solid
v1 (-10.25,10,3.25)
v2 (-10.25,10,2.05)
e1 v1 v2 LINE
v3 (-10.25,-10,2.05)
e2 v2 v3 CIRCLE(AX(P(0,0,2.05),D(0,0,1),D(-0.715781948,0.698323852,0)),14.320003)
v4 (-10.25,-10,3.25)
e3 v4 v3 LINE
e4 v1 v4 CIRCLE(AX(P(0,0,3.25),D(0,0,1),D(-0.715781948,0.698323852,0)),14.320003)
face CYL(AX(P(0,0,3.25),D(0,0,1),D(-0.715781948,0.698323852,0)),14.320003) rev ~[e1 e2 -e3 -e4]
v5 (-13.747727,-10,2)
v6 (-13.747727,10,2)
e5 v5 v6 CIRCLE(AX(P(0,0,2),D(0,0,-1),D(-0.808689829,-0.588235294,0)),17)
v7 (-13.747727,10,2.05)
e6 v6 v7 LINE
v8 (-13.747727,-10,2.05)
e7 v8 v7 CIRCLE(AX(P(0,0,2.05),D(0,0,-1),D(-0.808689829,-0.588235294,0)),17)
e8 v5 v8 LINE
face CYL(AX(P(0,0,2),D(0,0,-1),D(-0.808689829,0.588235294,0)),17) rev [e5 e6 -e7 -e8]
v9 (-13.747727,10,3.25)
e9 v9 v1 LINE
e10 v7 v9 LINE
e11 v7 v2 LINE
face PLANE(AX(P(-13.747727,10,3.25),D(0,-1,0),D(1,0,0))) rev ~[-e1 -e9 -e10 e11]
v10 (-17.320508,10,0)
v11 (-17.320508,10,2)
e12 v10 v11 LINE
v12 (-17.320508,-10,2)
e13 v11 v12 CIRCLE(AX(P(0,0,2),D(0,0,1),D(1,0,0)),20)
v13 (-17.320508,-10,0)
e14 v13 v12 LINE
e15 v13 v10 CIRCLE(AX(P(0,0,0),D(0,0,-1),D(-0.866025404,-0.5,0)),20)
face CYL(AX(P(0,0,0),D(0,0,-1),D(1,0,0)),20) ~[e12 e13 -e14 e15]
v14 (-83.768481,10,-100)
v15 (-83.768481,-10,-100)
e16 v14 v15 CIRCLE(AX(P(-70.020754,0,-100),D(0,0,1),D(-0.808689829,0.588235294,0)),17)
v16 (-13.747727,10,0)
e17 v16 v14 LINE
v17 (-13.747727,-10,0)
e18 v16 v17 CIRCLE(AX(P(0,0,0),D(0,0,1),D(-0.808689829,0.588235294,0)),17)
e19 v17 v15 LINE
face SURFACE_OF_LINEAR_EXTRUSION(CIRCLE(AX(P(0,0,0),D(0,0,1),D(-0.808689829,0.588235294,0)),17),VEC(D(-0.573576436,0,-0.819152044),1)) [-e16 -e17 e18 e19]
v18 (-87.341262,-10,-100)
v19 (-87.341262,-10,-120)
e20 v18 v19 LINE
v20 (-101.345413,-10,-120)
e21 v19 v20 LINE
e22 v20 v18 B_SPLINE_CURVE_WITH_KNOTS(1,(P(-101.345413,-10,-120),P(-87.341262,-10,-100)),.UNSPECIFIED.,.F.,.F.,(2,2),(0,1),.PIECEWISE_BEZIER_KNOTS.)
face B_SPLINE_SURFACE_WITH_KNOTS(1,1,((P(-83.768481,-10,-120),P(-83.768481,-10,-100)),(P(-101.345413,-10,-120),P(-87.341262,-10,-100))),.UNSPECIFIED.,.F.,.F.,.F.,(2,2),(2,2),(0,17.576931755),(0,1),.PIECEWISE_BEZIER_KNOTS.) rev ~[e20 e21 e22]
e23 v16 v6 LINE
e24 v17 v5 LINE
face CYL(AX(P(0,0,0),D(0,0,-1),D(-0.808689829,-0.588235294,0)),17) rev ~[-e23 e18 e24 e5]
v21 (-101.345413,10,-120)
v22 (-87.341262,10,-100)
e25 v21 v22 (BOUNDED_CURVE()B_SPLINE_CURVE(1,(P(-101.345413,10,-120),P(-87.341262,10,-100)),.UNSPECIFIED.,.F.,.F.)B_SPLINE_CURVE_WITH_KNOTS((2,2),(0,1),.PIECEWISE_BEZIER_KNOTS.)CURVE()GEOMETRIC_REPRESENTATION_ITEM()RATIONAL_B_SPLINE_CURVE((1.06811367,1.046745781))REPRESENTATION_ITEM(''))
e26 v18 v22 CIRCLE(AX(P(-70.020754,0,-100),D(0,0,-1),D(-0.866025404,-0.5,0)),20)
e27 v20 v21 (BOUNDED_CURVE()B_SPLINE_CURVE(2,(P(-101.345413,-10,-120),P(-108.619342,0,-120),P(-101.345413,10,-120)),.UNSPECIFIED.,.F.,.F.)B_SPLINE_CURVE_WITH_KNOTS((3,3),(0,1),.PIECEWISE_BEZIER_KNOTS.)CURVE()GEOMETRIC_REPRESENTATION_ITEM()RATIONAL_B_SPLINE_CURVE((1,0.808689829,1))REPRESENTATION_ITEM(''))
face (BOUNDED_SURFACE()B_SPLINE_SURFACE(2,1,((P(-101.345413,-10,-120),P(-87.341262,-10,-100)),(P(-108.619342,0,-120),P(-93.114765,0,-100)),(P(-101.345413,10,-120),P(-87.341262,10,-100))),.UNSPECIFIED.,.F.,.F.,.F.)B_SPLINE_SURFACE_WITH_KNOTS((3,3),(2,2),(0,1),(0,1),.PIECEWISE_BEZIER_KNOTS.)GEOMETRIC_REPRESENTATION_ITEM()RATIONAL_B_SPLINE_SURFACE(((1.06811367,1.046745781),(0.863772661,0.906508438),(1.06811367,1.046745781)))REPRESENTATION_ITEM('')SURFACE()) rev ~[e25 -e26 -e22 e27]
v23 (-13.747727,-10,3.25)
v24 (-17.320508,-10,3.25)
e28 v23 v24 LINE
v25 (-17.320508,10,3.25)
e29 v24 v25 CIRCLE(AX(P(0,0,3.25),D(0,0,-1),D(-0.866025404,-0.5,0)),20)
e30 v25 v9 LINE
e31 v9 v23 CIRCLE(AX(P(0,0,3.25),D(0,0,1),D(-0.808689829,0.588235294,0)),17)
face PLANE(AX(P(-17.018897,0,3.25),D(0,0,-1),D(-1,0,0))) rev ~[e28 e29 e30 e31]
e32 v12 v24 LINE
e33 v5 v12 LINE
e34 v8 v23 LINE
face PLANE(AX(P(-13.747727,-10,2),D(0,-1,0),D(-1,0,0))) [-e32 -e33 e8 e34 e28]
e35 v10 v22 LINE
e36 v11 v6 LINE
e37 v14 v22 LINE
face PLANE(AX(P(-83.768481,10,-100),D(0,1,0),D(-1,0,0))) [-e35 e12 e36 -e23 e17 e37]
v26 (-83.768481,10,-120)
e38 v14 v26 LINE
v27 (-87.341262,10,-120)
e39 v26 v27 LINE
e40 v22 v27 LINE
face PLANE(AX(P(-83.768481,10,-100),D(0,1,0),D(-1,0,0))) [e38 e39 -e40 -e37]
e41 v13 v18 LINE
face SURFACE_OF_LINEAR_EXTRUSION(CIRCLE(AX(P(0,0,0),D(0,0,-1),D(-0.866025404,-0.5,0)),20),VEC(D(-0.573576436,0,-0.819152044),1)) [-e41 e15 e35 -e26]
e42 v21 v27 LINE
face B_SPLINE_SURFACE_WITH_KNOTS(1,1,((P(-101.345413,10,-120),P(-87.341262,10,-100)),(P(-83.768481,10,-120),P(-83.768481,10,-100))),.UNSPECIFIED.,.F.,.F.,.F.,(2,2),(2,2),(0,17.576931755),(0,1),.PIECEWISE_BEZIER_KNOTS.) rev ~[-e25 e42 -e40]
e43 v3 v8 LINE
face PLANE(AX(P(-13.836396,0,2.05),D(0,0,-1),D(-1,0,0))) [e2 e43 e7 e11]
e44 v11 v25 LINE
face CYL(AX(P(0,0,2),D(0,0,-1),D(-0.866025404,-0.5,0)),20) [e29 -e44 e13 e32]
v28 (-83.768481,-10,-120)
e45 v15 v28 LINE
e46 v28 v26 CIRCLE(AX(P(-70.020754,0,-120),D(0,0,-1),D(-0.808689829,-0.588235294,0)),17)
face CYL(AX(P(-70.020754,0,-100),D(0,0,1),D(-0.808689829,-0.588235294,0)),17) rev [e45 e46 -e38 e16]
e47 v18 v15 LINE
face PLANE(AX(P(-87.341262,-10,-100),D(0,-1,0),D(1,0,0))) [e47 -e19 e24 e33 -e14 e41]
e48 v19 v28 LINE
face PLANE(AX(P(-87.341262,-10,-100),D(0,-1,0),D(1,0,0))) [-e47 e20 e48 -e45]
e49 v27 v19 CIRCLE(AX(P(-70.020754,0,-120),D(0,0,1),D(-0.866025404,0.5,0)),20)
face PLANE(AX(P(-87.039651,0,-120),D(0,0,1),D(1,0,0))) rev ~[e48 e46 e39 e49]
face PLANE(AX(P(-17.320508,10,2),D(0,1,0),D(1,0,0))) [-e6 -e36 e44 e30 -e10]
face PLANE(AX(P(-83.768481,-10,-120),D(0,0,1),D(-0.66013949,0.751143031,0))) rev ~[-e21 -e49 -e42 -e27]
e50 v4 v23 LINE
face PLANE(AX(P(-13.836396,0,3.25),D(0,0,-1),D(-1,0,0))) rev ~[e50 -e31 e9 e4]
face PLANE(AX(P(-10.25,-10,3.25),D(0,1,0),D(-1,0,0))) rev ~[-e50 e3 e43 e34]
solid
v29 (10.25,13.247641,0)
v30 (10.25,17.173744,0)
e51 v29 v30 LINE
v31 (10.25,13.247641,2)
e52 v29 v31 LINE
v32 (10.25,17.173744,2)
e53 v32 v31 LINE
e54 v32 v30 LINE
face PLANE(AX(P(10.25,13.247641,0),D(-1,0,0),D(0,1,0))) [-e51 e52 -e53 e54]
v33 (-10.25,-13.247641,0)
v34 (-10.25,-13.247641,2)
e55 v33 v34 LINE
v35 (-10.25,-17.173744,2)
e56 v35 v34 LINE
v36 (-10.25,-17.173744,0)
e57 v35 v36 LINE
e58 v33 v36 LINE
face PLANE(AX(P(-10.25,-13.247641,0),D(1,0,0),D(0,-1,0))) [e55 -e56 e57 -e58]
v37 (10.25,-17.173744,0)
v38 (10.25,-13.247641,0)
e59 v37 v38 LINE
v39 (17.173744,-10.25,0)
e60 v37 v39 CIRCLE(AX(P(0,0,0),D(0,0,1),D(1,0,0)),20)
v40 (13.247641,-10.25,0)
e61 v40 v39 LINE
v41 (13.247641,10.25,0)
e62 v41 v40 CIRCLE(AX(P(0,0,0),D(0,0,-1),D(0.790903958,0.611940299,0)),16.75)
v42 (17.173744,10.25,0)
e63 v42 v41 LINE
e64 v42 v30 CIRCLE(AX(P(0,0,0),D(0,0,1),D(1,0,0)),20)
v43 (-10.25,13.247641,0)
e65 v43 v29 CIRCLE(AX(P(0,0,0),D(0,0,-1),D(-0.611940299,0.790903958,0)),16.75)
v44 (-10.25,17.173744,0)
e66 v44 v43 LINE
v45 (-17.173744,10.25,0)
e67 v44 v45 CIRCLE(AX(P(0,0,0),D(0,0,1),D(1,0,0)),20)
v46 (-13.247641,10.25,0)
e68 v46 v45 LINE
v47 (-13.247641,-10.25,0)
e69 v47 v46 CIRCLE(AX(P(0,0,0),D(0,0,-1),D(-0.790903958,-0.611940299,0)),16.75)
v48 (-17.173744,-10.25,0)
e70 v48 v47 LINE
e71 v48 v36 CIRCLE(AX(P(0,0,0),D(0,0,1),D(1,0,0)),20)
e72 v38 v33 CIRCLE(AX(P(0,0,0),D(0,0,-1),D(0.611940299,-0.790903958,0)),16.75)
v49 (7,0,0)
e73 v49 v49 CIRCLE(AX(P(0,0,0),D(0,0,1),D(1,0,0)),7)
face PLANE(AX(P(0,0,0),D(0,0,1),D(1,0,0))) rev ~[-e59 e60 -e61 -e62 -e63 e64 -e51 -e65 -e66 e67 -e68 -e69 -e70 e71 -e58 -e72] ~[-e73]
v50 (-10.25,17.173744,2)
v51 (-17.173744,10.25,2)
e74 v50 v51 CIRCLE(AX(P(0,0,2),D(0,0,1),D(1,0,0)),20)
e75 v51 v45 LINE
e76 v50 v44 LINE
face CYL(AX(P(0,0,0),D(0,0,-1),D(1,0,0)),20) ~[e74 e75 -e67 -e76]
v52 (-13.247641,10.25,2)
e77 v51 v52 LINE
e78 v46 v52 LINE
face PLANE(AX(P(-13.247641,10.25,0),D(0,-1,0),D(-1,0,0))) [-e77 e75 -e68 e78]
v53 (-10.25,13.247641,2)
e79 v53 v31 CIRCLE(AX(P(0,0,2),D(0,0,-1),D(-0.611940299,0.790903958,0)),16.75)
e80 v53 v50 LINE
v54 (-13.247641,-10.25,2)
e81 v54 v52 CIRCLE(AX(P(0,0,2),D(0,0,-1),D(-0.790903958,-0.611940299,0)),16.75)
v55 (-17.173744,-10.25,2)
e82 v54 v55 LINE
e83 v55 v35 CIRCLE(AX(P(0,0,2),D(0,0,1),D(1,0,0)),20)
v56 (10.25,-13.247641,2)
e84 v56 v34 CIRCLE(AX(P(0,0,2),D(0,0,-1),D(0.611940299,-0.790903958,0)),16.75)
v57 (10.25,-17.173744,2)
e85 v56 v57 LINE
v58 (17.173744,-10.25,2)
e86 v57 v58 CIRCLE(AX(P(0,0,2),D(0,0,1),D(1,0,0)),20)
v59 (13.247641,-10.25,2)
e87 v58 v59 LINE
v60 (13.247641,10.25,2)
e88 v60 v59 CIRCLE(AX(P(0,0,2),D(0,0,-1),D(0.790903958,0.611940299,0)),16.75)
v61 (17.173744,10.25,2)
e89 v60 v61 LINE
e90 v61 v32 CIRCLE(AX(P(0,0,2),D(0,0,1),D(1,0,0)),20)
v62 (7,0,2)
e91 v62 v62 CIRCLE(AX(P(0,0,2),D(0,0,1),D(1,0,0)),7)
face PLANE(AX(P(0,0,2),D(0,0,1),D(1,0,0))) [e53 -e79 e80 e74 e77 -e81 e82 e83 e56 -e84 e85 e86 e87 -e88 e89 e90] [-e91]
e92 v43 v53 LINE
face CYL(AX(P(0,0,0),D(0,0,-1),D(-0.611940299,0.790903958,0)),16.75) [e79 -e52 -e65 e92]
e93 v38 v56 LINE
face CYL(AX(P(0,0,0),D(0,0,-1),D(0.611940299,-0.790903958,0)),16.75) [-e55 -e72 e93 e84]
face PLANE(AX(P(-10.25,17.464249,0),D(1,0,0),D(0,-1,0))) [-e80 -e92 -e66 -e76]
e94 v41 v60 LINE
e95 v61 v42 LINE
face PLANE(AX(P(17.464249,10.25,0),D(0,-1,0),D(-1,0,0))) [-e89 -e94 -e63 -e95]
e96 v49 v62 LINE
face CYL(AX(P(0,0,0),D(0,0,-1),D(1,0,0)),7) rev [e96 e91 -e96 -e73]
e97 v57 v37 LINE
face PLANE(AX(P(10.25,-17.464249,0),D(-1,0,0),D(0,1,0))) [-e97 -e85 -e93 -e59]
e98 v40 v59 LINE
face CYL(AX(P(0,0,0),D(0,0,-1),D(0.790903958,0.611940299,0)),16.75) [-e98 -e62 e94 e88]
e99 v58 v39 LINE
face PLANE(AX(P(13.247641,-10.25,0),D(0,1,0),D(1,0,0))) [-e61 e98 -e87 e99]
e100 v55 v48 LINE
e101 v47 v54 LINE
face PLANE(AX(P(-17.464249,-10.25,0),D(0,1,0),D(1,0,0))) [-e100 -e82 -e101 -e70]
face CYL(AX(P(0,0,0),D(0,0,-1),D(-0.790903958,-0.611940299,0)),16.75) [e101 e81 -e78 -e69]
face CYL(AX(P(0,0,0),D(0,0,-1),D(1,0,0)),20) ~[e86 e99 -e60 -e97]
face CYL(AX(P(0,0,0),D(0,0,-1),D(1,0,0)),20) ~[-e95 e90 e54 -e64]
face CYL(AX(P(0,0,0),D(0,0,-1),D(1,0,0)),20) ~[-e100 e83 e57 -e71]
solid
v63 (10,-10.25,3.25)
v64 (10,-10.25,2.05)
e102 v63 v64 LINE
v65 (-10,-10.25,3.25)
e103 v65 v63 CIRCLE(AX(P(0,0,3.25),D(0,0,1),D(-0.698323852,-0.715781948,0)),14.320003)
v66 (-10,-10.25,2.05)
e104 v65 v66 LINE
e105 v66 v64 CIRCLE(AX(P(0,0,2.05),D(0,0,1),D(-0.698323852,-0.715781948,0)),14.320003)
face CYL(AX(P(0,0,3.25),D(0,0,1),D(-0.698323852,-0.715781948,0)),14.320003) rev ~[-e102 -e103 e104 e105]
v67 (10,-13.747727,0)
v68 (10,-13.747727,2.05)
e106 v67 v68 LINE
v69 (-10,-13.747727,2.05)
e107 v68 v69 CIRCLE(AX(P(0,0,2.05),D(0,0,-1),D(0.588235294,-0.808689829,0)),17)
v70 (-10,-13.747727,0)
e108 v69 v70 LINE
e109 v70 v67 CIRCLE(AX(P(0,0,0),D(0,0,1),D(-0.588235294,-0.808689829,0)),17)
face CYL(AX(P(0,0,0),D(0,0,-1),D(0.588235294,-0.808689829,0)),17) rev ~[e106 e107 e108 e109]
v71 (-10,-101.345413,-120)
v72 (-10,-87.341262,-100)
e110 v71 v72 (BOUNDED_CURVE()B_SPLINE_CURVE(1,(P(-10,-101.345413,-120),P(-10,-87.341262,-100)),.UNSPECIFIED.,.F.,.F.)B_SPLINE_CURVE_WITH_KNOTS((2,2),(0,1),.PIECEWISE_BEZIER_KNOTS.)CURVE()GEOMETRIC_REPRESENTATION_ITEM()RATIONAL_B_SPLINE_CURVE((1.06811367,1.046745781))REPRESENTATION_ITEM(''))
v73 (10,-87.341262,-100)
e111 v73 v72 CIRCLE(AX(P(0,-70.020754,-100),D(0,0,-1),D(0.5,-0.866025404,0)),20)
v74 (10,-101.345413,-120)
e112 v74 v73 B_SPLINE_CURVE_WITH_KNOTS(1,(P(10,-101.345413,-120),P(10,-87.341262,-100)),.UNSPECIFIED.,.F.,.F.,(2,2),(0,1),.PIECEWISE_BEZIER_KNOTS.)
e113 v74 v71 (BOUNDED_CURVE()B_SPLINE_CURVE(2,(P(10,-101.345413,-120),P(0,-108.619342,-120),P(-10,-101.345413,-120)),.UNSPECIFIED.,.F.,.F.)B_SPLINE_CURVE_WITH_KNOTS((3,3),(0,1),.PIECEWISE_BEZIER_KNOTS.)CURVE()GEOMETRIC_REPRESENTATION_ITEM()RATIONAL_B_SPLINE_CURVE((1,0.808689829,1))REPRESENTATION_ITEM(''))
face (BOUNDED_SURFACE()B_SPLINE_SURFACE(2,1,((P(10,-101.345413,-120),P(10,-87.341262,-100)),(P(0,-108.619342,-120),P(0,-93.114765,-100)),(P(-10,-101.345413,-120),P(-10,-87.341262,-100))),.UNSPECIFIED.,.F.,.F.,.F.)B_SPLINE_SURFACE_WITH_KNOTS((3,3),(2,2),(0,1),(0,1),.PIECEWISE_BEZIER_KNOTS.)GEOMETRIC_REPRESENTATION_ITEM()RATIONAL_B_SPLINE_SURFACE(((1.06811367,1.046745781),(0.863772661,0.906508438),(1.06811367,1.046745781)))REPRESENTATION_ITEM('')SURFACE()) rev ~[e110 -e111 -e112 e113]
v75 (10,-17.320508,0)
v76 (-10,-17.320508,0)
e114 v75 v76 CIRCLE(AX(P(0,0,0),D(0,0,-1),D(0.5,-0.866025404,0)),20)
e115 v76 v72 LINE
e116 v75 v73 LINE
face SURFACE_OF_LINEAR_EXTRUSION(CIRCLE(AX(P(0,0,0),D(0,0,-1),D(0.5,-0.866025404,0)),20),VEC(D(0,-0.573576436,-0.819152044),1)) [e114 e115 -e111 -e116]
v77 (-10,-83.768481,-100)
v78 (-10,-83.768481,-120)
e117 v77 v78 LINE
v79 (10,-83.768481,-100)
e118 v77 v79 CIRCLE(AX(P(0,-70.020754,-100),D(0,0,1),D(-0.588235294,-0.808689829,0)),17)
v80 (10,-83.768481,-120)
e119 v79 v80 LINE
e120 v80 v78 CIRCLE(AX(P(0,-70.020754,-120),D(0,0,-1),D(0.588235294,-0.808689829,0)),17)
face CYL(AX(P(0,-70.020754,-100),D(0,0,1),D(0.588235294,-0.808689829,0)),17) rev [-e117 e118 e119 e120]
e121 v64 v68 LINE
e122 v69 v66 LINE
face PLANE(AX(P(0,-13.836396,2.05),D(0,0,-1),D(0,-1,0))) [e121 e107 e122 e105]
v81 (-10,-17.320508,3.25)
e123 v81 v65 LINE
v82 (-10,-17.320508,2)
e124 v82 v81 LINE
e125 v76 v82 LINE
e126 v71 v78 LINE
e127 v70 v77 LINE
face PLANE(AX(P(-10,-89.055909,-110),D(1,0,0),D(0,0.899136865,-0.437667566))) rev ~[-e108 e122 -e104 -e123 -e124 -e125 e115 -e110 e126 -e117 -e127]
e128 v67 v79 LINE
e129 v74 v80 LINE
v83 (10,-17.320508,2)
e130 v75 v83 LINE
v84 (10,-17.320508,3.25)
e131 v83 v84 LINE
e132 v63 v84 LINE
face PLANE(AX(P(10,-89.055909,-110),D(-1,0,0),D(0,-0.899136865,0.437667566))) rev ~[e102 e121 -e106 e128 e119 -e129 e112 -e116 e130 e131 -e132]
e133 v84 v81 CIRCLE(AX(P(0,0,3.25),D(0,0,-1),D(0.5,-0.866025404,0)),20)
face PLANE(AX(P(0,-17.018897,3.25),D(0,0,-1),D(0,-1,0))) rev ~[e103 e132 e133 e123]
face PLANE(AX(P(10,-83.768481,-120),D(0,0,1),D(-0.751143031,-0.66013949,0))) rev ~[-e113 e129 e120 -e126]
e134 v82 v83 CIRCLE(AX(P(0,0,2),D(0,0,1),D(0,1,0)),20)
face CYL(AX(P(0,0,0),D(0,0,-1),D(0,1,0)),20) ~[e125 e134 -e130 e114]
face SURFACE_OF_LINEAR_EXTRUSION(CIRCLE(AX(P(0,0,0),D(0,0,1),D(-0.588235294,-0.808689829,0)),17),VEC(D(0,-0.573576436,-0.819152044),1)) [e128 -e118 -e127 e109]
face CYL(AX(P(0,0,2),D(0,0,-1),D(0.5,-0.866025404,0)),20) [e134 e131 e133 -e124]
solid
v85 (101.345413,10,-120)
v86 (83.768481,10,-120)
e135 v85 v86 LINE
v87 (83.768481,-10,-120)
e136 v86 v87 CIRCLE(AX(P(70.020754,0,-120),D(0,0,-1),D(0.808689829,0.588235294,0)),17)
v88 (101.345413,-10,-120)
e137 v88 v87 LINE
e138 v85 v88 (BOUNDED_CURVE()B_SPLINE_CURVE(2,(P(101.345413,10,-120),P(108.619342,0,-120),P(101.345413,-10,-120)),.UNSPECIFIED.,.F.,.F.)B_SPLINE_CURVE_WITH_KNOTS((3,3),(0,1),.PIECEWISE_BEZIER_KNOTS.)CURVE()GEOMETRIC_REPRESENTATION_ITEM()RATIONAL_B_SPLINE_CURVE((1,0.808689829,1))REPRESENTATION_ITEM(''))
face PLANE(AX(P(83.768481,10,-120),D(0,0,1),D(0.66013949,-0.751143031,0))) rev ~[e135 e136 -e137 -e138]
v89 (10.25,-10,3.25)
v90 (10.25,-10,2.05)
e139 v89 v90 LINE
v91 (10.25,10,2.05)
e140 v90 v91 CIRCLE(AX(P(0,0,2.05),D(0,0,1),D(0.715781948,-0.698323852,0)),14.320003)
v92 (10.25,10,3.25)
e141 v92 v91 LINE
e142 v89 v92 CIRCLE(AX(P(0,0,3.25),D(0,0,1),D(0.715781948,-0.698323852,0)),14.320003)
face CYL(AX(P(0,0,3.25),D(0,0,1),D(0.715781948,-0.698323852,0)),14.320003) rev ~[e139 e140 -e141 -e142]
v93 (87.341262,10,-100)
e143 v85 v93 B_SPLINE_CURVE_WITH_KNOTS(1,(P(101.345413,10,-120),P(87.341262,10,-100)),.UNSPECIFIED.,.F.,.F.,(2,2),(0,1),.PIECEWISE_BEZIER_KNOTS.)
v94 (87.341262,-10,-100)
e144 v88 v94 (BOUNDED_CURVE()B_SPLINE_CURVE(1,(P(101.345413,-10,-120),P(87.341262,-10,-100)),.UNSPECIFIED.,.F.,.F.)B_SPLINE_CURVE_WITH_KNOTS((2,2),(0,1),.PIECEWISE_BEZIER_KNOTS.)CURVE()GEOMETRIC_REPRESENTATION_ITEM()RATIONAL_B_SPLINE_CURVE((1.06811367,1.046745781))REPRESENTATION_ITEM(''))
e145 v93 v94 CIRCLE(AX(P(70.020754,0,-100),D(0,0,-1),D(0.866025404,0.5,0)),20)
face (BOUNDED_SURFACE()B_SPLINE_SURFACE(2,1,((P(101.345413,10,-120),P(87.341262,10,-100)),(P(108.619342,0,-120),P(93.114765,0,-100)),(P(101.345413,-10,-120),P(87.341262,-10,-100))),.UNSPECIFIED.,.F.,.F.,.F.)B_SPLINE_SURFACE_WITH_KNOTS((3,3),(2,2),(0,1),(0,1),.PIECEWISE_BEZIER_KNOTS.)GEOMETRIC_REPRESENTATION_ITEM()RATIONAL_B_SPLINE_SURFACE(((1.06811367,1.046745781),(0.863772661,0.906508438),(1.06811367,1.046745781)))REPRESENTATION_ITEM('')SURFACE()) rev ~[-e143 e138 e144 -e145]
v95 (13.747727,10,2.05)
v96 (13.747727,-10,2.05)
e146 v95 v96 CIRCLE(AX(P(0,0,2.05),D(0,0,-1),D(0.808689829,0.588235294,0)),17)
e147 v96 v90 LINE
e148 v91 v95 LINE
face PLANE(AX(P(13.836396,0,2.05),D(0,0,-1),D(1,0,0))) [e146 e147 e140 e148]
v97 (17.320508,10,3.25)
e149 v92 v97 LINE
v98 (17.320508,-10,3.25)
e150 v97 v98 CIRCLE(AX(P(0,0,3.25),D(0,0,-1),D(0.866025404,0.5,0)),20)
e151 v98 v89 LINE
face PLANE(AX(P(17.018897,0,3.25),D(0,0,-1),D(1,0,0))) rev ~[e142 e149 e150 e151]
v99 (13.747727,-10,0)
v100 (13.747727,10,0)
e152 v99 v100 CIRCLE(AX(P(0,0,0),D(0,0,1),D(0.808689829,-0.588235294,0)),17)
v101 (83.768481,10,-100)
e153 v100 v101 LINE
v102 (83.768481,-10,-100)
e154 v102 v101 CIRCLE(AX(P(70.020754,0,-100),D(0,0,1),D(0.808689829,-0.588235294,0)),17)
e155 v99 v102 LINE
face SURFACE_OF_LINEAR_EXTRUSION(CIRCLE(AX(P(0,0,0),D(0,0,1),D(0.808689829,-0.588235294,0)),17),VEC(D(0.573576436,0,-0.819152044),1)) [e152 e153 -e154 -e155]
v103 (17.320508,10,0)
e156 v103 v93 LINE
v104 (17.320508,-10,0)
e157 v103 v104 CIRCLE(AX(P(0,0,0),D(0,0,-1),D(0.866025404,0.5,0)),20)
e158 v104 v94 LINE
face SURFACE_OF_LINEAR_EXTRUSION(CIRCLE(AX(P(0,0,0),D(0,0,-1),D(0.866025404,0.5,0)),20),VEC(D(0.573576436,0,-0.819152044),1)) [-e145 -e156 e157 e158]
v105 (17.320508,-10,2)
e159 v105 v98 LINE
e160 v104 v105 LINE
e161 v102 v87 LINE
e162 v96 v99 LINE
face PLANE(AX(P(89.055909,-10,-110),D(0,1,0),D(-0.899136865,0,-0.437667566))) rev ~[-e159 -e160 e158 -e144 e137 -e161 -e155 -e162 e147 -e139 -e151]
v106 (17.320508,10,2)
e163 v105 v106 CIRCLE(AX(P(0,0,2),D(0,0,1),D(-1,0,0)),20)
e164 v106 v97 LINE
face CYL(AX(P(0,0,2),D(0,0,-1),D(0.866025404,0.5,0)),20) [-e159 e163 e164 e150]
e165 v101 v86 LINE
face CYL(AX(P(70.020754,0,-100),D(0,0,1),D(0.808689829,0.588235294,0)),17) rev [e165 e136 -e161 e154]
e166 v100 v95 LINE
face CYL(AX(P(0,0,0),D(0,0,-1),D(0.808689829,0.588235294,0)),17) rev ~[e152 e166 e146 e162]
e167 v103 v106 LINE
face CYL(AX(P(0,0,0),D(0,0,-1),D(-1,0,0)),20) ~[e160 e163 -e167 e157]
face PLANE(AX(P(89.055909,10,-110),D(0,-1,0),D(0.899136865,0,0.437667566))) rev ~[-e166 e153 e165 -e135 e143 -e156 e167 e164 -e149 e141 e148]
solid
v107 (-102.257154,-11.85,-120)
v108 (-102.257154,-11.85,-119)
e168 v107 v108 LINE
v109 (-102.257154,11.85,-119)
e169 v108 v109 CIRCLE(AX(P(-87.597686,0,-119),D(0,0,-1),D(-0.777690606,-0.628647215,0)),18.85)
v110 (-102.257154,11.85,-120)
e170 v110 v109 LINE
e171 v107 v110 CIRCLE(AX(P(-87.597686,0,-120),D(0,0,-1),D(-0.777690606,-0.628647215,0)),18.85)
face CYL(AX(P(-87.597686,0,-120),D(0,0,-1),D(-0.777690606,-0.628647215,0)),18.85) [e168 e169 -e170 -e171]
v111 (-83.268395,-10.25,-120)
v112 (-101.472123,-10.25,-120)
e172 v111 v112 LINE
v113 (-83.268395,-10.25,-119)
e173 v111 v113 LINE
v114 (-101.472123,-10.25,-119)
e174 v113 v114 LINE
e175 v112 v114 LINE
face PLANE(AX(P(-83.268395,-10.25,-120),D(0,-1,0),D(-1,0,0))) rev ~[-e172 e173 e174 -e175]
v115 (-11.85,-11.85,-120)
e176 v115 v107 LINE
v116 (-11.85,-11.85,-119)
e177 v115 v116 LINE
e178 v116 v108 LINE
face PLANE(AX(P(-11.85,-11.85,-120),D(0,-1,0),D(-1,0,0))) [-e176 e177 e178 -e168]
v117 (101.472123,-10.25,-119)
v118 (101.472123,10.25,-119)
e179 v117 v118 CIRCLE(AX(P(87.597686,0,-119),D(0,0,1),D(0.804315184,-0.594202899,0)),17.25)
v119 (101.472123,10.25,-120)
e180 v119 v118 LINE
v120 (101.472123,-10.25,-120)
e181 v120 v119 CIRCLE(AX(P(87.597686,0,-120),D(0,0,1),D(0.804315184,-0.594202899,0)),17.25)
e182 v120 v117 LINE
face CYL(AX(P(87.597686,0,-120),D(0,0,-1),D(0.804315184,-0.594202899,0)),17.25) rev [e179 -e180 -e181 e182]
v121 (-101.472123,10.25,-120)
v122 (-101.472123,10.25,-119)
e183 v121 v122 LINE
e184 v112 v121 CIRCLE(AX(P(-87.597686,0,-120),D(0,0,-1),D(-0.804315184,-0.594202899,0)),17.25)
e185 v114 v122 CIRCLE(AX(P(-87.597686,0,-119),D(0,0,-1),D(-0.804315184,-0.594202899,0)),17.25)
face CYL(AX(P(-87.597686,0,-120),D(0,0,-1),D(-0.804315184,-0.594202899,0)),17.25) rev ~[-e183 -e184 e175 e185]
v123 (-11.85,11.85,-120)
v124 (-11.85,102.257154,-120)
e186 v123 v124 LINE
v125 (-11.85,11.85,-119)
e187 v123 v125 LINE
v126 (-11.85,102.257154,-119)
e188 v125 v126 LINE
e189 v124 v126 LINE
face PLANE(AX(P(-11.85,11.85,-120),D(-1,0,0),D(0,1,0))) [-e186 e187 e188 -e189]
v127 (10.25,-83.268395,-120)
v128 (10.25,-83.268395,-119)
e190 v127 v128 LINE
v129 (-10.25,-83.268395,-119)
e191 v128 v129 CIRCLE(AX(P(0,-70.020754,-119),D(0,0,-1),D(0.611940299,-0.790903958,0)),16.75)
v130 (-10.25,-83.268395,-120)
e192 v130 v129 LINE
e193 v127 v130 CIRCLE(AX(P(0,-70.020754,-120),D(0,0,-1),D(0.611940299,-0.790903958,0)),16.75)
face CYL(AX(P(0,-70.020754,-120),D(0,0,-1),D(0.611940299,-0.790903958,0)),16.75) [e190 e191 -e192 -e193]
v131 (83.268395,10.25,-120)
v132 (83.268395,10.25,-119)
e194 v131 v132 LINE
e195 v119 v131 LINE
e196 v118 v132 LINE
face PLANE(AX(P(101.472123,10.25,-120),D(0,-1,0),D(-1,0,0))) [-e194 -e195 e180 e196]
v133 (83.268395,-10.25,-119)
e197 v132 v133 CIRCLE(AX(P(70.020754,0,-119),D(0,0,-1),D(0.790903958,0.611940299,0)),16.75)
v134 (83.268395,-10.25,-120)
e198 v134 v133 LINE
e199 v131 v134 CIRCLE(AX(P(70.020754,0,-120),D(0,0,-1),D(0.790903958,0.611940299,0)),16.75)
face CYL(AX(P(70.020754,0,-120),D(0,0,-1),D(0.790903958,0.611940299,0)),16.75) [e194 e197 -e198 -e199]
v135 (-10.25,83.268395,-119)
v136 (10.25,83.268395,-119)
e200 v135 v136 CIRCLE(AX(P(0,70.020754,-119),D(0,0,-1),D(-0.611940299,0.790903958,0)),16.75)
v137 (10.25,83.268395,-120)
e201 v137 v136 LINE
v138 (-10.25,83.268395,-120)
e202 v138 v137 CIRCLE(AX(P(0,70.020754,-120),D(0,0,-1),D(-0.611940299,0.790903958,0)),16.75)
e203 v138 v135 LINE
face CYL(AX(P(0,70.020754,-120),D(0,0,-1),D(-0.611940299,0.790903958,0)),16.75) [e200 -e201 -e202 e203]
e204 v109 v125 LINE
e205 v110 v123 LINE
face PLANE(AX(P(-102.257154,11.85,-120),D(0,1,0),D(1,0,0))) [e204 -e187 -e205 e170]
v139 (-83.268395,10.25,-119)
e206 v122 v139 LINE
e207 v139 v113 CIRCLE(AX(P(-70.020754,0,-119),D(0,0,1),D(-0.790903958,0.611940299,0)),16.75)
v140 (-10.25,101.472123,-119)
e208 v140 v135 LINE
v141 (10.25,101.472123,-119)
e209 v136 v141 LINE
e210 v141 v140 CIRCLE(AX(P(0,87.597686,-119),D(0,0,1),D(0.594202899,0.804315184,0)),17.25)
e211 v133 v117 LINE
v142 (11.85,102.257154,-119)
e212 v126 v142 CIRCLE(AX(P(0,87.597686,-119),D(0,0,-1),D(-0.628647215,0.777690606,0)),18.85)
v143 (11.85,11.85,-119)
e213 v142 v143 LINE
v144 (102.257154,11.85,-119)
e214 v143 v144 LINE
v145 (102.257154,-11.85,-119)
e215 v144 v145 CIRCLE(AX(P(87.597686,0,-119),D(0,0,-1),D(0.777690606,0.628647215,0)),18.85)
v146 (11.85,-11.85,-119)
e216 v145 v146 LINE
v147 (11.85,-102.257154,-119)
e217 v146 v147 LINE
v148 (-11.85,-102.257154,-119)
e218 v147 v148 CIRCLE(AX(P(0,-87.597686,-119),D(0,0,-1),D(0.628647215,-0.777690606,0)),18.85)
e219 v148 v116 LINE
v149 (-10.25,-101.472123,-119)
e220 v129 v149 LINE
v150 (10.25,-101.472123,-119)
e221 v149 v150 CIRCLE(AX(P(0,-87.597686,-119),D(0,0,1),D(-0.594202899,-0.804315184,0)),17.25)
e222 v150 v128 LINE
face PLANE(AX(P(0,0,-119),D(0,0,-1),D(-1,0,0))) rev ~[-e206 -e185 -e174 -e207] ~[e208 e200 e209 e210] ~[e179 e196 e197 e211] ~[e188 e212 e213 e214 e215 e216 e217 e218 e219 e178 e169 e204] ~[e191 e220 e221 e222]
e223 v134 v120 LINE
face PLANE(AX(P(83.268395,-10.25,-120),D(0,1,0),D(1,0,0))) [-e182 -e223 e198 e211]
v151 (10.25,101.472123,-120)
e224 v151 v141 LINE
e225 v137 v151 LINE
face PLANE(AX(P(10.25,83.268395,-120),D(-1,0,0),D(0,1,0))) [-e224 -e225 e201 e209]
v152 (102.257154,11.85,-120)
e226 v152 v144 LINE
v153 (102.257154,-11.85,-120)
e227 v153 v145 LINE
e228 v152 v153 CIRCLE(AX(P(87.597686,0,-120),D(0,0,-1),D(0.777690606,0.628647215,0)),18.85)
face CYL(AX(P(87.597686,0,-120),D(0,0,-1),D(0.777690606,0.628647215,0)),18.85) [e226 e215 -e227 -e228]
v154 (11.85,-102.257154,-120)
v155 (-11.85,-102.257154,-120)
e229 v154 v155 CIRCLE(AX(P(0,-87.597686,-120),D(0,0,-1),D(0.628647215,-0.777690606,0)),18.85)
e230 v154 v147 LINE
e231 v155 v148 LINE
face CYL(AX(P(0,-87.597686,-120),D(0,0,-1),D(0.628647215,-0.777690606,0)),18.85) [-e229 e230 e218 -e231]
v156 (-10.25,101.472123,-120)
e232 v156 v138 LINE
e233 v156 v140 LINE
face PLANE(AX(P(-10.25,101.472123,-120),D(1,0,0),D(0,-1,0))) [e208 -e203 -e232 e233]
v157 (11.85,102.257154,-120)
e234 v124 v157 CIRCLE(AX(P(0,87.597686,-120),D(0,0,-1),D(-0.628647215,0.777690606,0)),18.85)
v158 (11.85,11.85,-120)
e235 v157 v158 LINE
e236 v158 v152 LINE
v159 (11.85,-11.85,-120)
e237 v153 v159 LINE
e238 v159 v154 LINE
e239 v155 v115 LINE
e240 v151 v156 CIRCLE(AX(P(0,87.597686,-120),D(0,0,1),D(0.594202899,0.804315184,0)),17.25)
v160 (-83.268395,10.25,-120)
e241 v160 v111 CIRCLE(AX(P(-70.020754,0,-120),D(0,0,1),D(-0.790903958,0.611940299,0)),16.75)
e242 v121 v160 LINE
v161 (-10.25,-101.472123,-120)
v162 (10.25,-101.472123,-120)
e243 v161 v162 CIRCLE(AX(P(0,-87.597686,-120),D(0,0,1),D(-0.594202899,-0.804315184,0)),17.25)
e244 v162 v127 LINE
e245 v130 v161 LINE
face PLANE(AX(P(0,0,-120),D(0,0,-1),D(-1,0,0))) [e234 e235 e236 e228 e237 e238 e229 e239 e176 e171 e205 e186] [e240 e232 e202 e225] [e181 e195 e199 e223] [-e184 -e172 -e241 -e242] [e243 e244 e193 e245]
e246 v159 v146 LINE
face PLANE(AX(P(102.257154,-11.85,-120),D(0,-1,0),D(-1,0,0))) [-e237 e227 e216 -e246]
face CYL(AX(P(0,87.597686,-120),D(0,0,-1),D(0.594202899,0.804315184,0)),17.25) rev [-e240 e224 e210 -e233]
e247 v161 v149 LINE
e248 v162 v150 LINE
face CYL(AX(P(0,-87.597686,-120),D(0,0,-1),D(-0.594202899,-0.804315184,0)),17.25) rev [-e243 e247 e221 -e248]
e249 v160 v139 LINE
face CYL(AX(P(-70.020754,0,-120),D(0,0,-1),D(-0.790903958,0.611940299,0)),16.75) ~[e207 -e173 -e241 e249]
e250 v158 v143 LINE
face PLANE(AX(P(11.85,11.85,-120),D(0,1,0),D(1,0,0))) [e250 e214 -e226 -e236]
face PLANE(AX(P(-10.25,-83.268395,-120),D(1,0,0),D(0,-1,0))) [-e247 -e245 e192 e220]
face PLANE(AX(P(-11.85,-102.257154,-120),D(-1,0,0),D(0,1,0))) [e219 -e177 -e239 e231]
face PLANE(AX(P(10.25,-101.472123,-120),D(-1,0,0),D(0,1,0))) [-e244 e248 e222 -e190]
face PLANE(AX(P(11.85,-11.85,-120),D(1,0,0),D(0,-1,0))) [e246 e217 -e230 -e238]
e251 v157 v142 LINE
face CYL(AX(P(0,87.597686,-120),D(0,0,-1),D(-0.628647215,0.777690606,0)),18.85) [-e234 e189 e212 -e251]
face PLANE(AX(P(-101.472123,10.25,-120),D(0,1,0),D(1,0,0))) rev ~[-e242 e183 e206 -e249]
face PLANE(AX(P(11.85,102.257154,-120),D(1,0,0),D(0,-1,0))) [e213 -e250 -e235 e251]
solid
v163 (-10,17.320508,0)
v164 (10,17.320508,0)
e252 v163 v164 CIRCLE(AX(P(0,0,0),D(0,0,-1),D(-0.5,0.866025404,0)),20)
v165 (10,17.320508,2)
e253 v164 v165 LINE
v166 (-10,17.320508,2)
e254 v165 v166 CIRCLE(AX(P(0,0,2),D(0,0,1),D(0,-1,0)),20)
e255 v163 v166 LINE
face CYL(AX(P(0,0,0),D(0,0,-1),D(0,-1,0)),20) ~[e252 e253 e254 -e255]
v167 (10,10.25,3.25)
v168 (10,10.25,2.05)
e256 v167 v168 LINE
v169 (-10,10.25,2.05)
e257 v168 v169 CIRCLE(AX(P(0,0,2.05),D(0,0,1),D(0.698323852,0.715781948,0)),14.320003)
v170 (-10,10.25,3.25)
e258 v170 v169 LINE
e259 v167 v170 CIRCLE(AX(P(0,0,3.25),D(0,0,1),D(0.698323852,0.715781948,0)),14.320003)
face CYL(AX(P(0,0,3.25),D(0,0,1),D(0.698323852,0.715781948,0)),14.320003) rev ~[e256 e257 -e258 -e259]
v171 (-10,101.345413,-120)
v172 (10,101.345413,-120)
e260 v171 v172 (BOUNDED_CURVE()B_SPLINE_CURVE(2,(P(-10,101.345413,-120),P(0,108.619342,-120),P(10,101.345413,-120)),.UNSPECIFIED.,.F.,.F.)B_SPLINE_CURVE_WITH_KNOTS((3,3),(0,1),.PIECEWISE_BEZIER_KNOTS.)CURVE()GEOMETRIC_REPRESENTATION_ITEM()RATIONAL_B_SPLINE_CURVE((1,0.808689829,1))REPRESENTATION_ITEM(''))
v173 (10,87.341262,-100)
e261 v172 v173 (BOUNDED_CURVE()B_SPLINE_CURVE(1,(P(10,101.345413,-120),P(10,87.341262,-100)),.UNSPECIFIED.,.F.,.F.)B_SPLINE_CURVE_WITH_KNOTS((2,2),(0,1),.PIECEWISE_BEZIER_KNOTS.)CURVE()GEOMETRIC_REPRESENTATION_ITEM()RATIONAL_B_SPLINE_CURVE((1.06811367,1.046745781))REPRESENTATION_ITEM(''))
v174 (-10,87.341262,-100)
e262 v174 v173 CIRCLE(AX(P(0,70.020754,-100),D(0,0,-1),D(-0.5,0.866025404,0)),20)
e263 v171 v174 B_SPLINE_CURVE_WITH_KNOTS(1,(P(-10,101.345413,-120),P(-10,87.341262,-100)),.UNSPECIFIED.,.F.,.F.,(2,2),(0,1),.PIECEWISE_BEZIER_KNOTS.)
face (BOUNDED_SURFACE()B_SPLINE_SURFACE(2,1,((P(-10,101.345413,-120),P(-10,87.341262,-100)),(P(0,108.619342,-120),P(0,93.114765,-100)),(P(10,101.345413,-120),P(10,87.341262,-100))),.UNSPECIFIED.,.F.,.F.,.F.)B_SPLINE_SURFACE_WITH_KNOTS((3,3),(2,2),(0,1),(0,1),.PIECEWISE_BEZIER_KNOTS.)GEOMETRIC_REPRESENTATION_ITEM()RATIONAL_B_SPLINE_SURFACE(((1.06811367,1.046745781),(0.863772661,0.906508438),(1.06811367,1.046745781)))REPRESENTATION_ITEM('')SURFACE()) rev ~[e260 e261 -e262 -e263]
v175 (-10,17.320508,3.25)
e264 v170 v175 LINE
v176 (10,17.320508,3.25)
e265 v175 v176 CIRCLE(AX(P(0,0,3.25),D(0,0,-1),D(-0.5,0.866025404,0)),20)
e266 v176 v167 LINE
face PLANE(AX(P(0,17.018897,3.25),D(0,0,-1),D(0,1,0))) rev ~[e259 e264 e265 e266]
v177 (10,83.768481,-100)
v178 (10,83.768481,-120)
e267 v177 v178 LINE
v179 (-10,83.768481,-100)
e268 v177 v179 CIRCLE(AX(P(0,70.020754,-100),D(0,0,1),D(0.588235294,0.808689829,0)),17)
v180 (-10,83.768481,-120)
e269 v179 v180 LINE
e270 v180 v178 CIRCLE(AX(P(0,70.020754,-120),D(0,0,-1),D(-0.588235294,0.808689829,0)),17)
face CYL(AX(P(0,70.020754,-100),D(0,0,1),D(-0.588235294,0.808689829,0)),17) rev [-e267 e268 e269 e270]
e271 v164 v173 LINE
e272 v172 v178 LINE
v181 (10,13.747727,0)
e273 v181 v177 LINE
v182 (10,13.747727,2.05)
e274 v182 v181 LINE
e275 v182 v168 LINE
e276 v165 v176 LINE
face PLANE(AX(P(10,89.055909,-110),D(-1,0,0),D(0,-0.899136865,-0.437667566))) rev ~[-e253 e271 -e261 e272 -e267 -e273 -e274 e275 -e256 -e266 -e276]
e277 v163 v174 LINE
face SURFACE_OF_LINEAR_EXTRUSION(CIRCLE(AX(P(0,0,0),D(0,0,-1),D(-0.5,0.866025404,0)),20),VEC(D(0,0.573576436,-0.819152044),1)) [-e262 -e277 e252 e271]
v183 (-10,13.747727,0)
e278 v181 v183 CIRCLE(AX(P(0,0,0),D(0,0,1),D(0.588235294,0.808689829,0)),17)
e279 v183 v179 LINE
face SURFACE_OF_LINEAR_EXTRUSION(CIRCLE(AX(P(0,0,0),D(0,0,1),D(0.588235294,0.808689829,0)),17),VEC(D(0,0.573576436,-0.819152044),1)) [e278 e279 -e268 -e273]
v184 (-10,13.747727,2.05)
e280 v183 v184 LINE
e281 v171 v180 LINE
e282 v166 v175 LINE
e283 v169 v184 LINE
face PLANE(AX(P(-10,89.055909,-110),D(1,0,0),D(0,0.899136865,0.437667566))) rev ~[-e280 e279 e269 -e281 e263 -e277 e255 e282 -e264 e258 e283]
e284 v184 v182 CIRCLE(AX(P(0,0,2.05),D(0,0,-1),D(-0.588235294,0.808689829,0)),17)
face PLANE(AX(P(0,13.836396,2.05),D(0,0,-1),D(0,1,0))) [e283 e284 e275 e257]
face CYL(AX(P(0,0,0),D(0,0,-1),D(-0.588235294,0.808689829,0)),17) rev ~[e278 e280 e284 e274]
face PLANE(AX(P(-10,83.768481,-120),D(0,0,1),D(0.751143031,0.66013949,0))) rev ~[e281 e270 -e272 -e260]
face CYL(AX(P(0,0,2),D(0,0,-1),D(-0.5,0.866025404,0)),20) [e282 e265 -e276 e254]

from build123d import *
from build123d.topology import SkipClean

# Parameters (mm, degrees)
SKETCH1_R           = 20
SKETCH1_R_2         = 7
BOSS_EXTRUDE1_DEPTH = 2
BOSS_EXTRUDE3_DEPTH = 20
CUT_EXTRUDE1_DEPTH  = 152.339803484
BOSS_EXTRUDE4_DEPTH = 1.25
BOSS_EXTRUDE5_DEPTH = 1.2
CIRPATTERN3_COUNT   = 4
BOSS_EXTRUDE6_DEPTH = 1


with BuildPart() as part:
    # Sketch1 → Boss-Extrude1 (new body)
    with BuildSketch(Plane.XY):
        Circle(SKETCH1_R)
        Circle(SKETCH1_R_2, mode=Mode.SUBTRACT)
    extrude(amount=BOSS_EXTRUDE1_DEPTH)

    # Sweep1: sweep along a path in Sketch2
    with BuildLine(Plane(origin=(0, 0, 0), x_dir=(1, 0, 0), z_dir=(0, 1, 0))) as sweep1_path:
        Line((-20, 0), (-90.020753821, 100))
    # Sketch3 → Sweep1 (sweep)
    with BuildSketch(Plane(origin=(0, 0, 0), x_dir=(-1, 0, 0), z_dir=(0, 0, -1))):
        with BuildLine():
            Line((13.747727085, -10), (17.320508076, -10))
            ThreePointArc((17.320508076, -10), (20, 0), (17.320508076, 10))
            Line((17.320508076, 10), (13.747727085, 10))
            ThreePointArc((13.747727085, 10), (17, 0), (13.747727085, -10))
        make_face()
    sweep(path=sweep1_path.line)

    # Sketch4 → Boss-Extrude3 (add)
    with BuildSketch(Plane(origin=(0, 0, -100), x_dir=(-1, 0, 0), z_dir=(0, 0, -1))):
        with BuildLine():
            Line((87.341261897, -10), (83.768480906, -10))
            ThreePointArc((83.768480906, -10), (87.020753821, 0), (83.768480906, 10))
            Line((83.768480906, 10), (87.341261897, 10))
            ThreePointArc((87.341261897, 10), (90.020753821, 0), (87.341261897, -10))
        make_face()
    extrude(amount=BOSS_EXTRUDE3_DEPTH)

    # Sketch5 → Cut-Extrude1 (cut, through all)
    # profile 1 of 4: a face of its own
    with BuildSketch(Plane(origin=(0, 0, 0), x_dir=(-1, 0, 0), z_dir=(0, 0, -1))):
        with BuildLine():
            Line((17.464249197, -10.25), (13.247641299, -10.25))
            ThreePointArc((13.247641299, -10.25), (16.75, 0), (13.247641299, 10.25))
            Line((13.247641299, 10.25), (17.464249197, 10.25))
            ThreePointArc((17.464249197, 10.25), (20.25, 0), (17.464249197, -10.25))
        make_face()
        with BuildLine():
            Line((17.320508076, -10), (13.747727085, -10))
            ThreePointArc((13.747727085, -10), (17, 0), (13.747727085, 10))
            Line((13.747727085, 10), (17.320508076, 10))
            ThreePointArc((17.320508076, 10), (20, 0), (17.320508076, -10))
        make_face(mode=Mode.SUBTRACT)
    # profile 2 of 4: a face of its own
    with BuildSketch(Plane(origin=(0, 0, 0), x_dir=(-1, 0, 0), z_dir=(0, 0, -1))):
        with BuildLine():
            Line((-10.25, -17.464249197), (-10.25, -13.247641299))
            ThreePointArc((-10.25, -13.247641299), (0, -16.75), (10.25, -13.247641299))
            Line((10.25, -13.247641299), (10.25, -17.464249197))
            ThreePointArc((10.25, -17.464249197), (0, -20.25), (-10.25, -17.464249197))
        make_face()
        with BuildLine():
            Line((-10, -17.320508076), (-10, -13.747727085))
            ThreePointArc((-10, -13.747727085), (0, -17), (10, -13.747727085))
            Line((10, -13.747727085), (10, -17.320508076))
            ThreePointArc((10, -17.320508076), (0, -20), (-10, -17.320508076))
        make_face(mode=Mode.SUBTRACT)
    # profile 3 of 4: a face of its own
    with BuildSketch(Plane(origin=(0, 0, 0), x_dir=(-1, 0, 0), z_dir=(0, 0, -1))):
        with BuildLine():
            Line((-17.464249197, 10.25), (-13.247641299, 10.25))
            ThreePointArc((-13.247641299, 10.25), (-16.75, 0), (-13.247641299, -10.25))
            Line((-13.247641299, -10.25), (-17.464249197, -10.25))
            ThreePointArc((-17.464249197, -10.25), (-20.25, 0), (-17.464249197, 10.25))
        make_face()
        with BuildLine():
            Line((-17.320508076, 10), (-13.747727085, 10))
            ThreePointArc((-13.747727085, 10), (-17, 0), (-13.747727085, -10))
            Line((-13.747727085, -10), (-17.320508076, -10))
            ThreePointArc((-17.320508076, -10), (-20, 0), (-17.320508076, 10))
        make_face(mode=Mode.SUBTRACT)
    # profile 4 of 4: a face of its own
    with BuildSketch(Plane(origin=(0, 0, 0), x_dir=(-1, 0, 0), z_dir=(0, 0, -1))):
        with BuildLine():
            Line((10.25, 17.464249197), (10.25, 13.247641299))
            ThreePointArc((10.25, 13.247641299), (0, 16.75), (-10.25, 13.247641299))
            Line((-10.25, 13.247641299), (-10.25, 17.464249197))
            ThreePointArc((-10.25, 17.464249197), (0, 20.25), (10.25, 17.464249197))
        make_face()
        with BuildLine():
            Line((10, 17.320508076), (10, 13.747727085))
            ThreePointArc((10, 13.747727085), (0, 17), (-10, 13.747727085))
            Line((-10, 13.747727085), (-10, 17.320508076))
            ThreePointArc((-10, 17.320508076), (0, 20), (10, 17.320508076))
        make_face(mode=Mode.SUBTRACT)
    extrude(amount=-CUT_EXTRUDE1_DEPTH, mode=Mode.SUBTRACT)


with BuildPart() as cut_extrude1_piece_1:
    # of the separate pieces the step leaves, piece 1, a body of its own (cut_extrude1_pieces_kept)
    add(part.part.solids().sort_by_distance((-17.320508076, 10, 2))[0])

    # Sketch6 → Boss-Extrude4 (add)
    with SkipClean():  # the faces are left unmerged after this step: merging them gives an invalid solid
        with BuildSketch(Plane.XY.offset(2)):
            with BuildLine():
                Line((-17.320508076, 10), (-13.747727085, 10))
                ThreePointArc((-13.747727085, 10), (-17, 0), (-13.747727085, -10))
                Line((-13.747727085, -10), (-17.320508076, -10))
                ThreePointArc((-17.320508076, -10), (-20, 0), (-17.320508076, 10))
            make_face()
        extrude(amount=BOSS_EXTRUDE4_DEPTH)

    # Sketch7 → Boss-Extrude5 (add)
    with SkipClean():  # the faces are left unmerged after this step: merging them gives an invalid solid
        with BuildSketch(Plane.XY.offset(3.25)):
            with BuildLine():
                Line((-13.747727085, 10), (-10.25, 10))
                ThreePointArc((-10.25, 10), (-14.320003492, 0), (-10.25, -10))
                Line((-10.25, -10), (-13.747727085, -10))
                ThreePointArc((-13.747727085, -10), (-17, 0), (-13.747727085, 10))
            make_face()
        extrude(amount=-BOSS_EXTRUDE5_DEPTH)

    # Sketch9 for Loft1 → Loft1 section 0
    with SkipClean():  # the faces are left unmerged after this step: merging them gives an invalid solid
        with BuildSketch(Plane(origin=(0, 0, -120), x_dir=(-1, 0, 0), z_dir=(0, 0, -1))):
            with BuildLine():
                Line((83.768480906, -10), (101.345412661, -10))
                # circular arc as an exact rational Bezier (weights 1, cos(half-angle), 1)
                Bezier((101.345412661, -10), (108.619342335, 0), (101.345412661, 10), weights=[1, 0.808689829, 1])
                Line((101.345412661, 10), (83.768480906, 10))
                Bezier((83.768480906, 10), (91.04241058, 0), (83.768480906, -10), weights=[1, 0.808689829, 1])
            make_face()
        # Sketch4<2> for Loft1 → Loft1 section 1
        with BuildSketch(Plane(origin=(0, 0, -100), x_dir=(-1, 0, 0), z_dir=(0, 0, -1))):
            with BuildLine():
                Line((87.341261897, -10), (83.768480906, -10))
                Bezier((83.768480906, -10), (91.04241058, 0), (83.768480906, 10), weights=[1, 0.808689829, 1])
                Line((83.768480906, 10), (87.341261897, 10))
                Bezier((87.341261897, 10), (93.114764589, 0), (87.341261897, -10), weights=[1, 0.866025404, 1])
            make_face()
        loft()


with BuildPart() as cut_extrude1_piece_2:
    # of the separate pieces the step leaves, piece 2, a body of its own (cut_extrude1_pieces_kept)
    add(part.part.solids().sort_by_distance((17.173744496, -10.25, 2))[0])


with BuildPart() as cirpattern3_1:
    # CirPattern3: pattern copy
    add(cut_extrude1_piece_1.part.rotate(Axis((0, 0, 0), (0, 0, -1)), 1 * 360 / CIRPATTERN3_COUNT))


with BuildPart() as cirpattern3_2:
    # CirPattern3: pattern copy
    add(cut_extrude1_piece_1.part.rotate(Axis((0, 0, 0), (0, 0, -1)), 2 * 360 / CIRPATTERN3_COUNT))


with BuildPart() as cirpattern3_3:
    # CirPattern3: pattern copy
    add(cut_extrude1_piece_1.part.rotate(Axis((0, 0, 0), (0, 0, -1)), 3 * 360 / CIRPATTERN3_COUNT))


with BuildPart() as body_6:
    # Sketch10 → Boss-Extrude6 (new body)
    with BuildSketch(Plane(origin=(0, 0, -120), x_dir=(-1, 0, 0), z_dir=(0, 0, -1))):
        with BuildLine():
            Line((11.85, -102.257153506), (11.85, -11.85))
            Line((11.85, -11.85), (102.257153506, -11.85))
            ThreePointArc((102.257153506, -11.85), (106.447685576, 0), (102.257153506, 11.85))
            Line((102.257153506, 11.85), (11.85, 11.85))
            Line((11.85, 11.85), (11.85, 102.257153506))
            ThreePointArc((11.85, 102.257153506), (0, 106.447685576), (-11.85, 102.257153506))
            Line((-11.85, 102.257153506), (-11.85, 11.85))
            Line((-11.85, 11.85), (-102.257153506, 11.85))
            ThreePointArc((-102.257153506, 11.85), (-106.447685576, 0), (-102.257153506, -11.85))
            Line((-102.257153506, -11.85), (-11.85, -11.85))
            Line((-11.85, -11.85), (-11.85, -102.257153506))
            ThreePointArc((-11.85, -102.257153506), (0, -106.447685576), (11.85, -102.257153506))
        make_face()
        with BuildLine():
            Line((101.472122501, 10.25), (83.26839512, 10.25))
            ThreePointArc((83.26839512, 10.25), (86.770753821, 0), (83.26839512, -10.25))
            Line((83.26839512, -10.25), (101.472122501, -10.25))
            ThreePointArc((101.472122501, -10.25), (104.847685576, 0), (101.472122501, 10.25))
        make_face(mode=Mode.SUBTRACT)
        with BuildLine():
            Line((-10.25, -101.472122501), (-10.25, -83.26839512))
            ThreePointArc((-10.25, -83.26839512), (0, -86.770753821), (10.25, -83.26839512))
            Line((10.25, -83.26839512), (10.25, -101.472122501))
            ThreePointArc((10.25, -101.472122501), (0, -104.847685576), (-10.25, -101.472122501))
        make_face(mode=Mode.SUBTRACT)
        with BuildLine():
            Line((-101.472122501, 10.25), (-83.26839512, 10.25))
            ThreePointArc((-83.26839512, 10.25), (-86.770753821, 0), (-83.26839512, -10.25))
            Line((-83.26839512, -10.25), (-101.472122501, -10.25))
            ThreePointArc((-101.472122501, -10.25), (-104.847685576, 0), (-101.472122501, 10.25))
        make_face(mode=Mode.SUBTRACT)
        with BuildLine():
            Line((10.25, 101.472122501), (10.25, 83.26839512))
            ThreePointArc((10.25, 83.26839512), (0, 86.770753821), (-10.25, 83.26839512))
            Line((-10.25, 83.26839512), (-10.25, 101.472122501))
            ThreePointArc((-10.25, 101.472122501), (0, 104.847685576), (10.25, 101.472122501))
        make_face(mode=Mode.SUBTRACT)
    extrude(amount=-BOSS_EXTRUDE6_DEPTH)


solid = Compound([cut_extrude1_piece_1.part, cut_extrude1_piece_2.part, cirpattern3_1.part, cirpattern3_2.part, cirpattern3_3.part, body_6.part])
